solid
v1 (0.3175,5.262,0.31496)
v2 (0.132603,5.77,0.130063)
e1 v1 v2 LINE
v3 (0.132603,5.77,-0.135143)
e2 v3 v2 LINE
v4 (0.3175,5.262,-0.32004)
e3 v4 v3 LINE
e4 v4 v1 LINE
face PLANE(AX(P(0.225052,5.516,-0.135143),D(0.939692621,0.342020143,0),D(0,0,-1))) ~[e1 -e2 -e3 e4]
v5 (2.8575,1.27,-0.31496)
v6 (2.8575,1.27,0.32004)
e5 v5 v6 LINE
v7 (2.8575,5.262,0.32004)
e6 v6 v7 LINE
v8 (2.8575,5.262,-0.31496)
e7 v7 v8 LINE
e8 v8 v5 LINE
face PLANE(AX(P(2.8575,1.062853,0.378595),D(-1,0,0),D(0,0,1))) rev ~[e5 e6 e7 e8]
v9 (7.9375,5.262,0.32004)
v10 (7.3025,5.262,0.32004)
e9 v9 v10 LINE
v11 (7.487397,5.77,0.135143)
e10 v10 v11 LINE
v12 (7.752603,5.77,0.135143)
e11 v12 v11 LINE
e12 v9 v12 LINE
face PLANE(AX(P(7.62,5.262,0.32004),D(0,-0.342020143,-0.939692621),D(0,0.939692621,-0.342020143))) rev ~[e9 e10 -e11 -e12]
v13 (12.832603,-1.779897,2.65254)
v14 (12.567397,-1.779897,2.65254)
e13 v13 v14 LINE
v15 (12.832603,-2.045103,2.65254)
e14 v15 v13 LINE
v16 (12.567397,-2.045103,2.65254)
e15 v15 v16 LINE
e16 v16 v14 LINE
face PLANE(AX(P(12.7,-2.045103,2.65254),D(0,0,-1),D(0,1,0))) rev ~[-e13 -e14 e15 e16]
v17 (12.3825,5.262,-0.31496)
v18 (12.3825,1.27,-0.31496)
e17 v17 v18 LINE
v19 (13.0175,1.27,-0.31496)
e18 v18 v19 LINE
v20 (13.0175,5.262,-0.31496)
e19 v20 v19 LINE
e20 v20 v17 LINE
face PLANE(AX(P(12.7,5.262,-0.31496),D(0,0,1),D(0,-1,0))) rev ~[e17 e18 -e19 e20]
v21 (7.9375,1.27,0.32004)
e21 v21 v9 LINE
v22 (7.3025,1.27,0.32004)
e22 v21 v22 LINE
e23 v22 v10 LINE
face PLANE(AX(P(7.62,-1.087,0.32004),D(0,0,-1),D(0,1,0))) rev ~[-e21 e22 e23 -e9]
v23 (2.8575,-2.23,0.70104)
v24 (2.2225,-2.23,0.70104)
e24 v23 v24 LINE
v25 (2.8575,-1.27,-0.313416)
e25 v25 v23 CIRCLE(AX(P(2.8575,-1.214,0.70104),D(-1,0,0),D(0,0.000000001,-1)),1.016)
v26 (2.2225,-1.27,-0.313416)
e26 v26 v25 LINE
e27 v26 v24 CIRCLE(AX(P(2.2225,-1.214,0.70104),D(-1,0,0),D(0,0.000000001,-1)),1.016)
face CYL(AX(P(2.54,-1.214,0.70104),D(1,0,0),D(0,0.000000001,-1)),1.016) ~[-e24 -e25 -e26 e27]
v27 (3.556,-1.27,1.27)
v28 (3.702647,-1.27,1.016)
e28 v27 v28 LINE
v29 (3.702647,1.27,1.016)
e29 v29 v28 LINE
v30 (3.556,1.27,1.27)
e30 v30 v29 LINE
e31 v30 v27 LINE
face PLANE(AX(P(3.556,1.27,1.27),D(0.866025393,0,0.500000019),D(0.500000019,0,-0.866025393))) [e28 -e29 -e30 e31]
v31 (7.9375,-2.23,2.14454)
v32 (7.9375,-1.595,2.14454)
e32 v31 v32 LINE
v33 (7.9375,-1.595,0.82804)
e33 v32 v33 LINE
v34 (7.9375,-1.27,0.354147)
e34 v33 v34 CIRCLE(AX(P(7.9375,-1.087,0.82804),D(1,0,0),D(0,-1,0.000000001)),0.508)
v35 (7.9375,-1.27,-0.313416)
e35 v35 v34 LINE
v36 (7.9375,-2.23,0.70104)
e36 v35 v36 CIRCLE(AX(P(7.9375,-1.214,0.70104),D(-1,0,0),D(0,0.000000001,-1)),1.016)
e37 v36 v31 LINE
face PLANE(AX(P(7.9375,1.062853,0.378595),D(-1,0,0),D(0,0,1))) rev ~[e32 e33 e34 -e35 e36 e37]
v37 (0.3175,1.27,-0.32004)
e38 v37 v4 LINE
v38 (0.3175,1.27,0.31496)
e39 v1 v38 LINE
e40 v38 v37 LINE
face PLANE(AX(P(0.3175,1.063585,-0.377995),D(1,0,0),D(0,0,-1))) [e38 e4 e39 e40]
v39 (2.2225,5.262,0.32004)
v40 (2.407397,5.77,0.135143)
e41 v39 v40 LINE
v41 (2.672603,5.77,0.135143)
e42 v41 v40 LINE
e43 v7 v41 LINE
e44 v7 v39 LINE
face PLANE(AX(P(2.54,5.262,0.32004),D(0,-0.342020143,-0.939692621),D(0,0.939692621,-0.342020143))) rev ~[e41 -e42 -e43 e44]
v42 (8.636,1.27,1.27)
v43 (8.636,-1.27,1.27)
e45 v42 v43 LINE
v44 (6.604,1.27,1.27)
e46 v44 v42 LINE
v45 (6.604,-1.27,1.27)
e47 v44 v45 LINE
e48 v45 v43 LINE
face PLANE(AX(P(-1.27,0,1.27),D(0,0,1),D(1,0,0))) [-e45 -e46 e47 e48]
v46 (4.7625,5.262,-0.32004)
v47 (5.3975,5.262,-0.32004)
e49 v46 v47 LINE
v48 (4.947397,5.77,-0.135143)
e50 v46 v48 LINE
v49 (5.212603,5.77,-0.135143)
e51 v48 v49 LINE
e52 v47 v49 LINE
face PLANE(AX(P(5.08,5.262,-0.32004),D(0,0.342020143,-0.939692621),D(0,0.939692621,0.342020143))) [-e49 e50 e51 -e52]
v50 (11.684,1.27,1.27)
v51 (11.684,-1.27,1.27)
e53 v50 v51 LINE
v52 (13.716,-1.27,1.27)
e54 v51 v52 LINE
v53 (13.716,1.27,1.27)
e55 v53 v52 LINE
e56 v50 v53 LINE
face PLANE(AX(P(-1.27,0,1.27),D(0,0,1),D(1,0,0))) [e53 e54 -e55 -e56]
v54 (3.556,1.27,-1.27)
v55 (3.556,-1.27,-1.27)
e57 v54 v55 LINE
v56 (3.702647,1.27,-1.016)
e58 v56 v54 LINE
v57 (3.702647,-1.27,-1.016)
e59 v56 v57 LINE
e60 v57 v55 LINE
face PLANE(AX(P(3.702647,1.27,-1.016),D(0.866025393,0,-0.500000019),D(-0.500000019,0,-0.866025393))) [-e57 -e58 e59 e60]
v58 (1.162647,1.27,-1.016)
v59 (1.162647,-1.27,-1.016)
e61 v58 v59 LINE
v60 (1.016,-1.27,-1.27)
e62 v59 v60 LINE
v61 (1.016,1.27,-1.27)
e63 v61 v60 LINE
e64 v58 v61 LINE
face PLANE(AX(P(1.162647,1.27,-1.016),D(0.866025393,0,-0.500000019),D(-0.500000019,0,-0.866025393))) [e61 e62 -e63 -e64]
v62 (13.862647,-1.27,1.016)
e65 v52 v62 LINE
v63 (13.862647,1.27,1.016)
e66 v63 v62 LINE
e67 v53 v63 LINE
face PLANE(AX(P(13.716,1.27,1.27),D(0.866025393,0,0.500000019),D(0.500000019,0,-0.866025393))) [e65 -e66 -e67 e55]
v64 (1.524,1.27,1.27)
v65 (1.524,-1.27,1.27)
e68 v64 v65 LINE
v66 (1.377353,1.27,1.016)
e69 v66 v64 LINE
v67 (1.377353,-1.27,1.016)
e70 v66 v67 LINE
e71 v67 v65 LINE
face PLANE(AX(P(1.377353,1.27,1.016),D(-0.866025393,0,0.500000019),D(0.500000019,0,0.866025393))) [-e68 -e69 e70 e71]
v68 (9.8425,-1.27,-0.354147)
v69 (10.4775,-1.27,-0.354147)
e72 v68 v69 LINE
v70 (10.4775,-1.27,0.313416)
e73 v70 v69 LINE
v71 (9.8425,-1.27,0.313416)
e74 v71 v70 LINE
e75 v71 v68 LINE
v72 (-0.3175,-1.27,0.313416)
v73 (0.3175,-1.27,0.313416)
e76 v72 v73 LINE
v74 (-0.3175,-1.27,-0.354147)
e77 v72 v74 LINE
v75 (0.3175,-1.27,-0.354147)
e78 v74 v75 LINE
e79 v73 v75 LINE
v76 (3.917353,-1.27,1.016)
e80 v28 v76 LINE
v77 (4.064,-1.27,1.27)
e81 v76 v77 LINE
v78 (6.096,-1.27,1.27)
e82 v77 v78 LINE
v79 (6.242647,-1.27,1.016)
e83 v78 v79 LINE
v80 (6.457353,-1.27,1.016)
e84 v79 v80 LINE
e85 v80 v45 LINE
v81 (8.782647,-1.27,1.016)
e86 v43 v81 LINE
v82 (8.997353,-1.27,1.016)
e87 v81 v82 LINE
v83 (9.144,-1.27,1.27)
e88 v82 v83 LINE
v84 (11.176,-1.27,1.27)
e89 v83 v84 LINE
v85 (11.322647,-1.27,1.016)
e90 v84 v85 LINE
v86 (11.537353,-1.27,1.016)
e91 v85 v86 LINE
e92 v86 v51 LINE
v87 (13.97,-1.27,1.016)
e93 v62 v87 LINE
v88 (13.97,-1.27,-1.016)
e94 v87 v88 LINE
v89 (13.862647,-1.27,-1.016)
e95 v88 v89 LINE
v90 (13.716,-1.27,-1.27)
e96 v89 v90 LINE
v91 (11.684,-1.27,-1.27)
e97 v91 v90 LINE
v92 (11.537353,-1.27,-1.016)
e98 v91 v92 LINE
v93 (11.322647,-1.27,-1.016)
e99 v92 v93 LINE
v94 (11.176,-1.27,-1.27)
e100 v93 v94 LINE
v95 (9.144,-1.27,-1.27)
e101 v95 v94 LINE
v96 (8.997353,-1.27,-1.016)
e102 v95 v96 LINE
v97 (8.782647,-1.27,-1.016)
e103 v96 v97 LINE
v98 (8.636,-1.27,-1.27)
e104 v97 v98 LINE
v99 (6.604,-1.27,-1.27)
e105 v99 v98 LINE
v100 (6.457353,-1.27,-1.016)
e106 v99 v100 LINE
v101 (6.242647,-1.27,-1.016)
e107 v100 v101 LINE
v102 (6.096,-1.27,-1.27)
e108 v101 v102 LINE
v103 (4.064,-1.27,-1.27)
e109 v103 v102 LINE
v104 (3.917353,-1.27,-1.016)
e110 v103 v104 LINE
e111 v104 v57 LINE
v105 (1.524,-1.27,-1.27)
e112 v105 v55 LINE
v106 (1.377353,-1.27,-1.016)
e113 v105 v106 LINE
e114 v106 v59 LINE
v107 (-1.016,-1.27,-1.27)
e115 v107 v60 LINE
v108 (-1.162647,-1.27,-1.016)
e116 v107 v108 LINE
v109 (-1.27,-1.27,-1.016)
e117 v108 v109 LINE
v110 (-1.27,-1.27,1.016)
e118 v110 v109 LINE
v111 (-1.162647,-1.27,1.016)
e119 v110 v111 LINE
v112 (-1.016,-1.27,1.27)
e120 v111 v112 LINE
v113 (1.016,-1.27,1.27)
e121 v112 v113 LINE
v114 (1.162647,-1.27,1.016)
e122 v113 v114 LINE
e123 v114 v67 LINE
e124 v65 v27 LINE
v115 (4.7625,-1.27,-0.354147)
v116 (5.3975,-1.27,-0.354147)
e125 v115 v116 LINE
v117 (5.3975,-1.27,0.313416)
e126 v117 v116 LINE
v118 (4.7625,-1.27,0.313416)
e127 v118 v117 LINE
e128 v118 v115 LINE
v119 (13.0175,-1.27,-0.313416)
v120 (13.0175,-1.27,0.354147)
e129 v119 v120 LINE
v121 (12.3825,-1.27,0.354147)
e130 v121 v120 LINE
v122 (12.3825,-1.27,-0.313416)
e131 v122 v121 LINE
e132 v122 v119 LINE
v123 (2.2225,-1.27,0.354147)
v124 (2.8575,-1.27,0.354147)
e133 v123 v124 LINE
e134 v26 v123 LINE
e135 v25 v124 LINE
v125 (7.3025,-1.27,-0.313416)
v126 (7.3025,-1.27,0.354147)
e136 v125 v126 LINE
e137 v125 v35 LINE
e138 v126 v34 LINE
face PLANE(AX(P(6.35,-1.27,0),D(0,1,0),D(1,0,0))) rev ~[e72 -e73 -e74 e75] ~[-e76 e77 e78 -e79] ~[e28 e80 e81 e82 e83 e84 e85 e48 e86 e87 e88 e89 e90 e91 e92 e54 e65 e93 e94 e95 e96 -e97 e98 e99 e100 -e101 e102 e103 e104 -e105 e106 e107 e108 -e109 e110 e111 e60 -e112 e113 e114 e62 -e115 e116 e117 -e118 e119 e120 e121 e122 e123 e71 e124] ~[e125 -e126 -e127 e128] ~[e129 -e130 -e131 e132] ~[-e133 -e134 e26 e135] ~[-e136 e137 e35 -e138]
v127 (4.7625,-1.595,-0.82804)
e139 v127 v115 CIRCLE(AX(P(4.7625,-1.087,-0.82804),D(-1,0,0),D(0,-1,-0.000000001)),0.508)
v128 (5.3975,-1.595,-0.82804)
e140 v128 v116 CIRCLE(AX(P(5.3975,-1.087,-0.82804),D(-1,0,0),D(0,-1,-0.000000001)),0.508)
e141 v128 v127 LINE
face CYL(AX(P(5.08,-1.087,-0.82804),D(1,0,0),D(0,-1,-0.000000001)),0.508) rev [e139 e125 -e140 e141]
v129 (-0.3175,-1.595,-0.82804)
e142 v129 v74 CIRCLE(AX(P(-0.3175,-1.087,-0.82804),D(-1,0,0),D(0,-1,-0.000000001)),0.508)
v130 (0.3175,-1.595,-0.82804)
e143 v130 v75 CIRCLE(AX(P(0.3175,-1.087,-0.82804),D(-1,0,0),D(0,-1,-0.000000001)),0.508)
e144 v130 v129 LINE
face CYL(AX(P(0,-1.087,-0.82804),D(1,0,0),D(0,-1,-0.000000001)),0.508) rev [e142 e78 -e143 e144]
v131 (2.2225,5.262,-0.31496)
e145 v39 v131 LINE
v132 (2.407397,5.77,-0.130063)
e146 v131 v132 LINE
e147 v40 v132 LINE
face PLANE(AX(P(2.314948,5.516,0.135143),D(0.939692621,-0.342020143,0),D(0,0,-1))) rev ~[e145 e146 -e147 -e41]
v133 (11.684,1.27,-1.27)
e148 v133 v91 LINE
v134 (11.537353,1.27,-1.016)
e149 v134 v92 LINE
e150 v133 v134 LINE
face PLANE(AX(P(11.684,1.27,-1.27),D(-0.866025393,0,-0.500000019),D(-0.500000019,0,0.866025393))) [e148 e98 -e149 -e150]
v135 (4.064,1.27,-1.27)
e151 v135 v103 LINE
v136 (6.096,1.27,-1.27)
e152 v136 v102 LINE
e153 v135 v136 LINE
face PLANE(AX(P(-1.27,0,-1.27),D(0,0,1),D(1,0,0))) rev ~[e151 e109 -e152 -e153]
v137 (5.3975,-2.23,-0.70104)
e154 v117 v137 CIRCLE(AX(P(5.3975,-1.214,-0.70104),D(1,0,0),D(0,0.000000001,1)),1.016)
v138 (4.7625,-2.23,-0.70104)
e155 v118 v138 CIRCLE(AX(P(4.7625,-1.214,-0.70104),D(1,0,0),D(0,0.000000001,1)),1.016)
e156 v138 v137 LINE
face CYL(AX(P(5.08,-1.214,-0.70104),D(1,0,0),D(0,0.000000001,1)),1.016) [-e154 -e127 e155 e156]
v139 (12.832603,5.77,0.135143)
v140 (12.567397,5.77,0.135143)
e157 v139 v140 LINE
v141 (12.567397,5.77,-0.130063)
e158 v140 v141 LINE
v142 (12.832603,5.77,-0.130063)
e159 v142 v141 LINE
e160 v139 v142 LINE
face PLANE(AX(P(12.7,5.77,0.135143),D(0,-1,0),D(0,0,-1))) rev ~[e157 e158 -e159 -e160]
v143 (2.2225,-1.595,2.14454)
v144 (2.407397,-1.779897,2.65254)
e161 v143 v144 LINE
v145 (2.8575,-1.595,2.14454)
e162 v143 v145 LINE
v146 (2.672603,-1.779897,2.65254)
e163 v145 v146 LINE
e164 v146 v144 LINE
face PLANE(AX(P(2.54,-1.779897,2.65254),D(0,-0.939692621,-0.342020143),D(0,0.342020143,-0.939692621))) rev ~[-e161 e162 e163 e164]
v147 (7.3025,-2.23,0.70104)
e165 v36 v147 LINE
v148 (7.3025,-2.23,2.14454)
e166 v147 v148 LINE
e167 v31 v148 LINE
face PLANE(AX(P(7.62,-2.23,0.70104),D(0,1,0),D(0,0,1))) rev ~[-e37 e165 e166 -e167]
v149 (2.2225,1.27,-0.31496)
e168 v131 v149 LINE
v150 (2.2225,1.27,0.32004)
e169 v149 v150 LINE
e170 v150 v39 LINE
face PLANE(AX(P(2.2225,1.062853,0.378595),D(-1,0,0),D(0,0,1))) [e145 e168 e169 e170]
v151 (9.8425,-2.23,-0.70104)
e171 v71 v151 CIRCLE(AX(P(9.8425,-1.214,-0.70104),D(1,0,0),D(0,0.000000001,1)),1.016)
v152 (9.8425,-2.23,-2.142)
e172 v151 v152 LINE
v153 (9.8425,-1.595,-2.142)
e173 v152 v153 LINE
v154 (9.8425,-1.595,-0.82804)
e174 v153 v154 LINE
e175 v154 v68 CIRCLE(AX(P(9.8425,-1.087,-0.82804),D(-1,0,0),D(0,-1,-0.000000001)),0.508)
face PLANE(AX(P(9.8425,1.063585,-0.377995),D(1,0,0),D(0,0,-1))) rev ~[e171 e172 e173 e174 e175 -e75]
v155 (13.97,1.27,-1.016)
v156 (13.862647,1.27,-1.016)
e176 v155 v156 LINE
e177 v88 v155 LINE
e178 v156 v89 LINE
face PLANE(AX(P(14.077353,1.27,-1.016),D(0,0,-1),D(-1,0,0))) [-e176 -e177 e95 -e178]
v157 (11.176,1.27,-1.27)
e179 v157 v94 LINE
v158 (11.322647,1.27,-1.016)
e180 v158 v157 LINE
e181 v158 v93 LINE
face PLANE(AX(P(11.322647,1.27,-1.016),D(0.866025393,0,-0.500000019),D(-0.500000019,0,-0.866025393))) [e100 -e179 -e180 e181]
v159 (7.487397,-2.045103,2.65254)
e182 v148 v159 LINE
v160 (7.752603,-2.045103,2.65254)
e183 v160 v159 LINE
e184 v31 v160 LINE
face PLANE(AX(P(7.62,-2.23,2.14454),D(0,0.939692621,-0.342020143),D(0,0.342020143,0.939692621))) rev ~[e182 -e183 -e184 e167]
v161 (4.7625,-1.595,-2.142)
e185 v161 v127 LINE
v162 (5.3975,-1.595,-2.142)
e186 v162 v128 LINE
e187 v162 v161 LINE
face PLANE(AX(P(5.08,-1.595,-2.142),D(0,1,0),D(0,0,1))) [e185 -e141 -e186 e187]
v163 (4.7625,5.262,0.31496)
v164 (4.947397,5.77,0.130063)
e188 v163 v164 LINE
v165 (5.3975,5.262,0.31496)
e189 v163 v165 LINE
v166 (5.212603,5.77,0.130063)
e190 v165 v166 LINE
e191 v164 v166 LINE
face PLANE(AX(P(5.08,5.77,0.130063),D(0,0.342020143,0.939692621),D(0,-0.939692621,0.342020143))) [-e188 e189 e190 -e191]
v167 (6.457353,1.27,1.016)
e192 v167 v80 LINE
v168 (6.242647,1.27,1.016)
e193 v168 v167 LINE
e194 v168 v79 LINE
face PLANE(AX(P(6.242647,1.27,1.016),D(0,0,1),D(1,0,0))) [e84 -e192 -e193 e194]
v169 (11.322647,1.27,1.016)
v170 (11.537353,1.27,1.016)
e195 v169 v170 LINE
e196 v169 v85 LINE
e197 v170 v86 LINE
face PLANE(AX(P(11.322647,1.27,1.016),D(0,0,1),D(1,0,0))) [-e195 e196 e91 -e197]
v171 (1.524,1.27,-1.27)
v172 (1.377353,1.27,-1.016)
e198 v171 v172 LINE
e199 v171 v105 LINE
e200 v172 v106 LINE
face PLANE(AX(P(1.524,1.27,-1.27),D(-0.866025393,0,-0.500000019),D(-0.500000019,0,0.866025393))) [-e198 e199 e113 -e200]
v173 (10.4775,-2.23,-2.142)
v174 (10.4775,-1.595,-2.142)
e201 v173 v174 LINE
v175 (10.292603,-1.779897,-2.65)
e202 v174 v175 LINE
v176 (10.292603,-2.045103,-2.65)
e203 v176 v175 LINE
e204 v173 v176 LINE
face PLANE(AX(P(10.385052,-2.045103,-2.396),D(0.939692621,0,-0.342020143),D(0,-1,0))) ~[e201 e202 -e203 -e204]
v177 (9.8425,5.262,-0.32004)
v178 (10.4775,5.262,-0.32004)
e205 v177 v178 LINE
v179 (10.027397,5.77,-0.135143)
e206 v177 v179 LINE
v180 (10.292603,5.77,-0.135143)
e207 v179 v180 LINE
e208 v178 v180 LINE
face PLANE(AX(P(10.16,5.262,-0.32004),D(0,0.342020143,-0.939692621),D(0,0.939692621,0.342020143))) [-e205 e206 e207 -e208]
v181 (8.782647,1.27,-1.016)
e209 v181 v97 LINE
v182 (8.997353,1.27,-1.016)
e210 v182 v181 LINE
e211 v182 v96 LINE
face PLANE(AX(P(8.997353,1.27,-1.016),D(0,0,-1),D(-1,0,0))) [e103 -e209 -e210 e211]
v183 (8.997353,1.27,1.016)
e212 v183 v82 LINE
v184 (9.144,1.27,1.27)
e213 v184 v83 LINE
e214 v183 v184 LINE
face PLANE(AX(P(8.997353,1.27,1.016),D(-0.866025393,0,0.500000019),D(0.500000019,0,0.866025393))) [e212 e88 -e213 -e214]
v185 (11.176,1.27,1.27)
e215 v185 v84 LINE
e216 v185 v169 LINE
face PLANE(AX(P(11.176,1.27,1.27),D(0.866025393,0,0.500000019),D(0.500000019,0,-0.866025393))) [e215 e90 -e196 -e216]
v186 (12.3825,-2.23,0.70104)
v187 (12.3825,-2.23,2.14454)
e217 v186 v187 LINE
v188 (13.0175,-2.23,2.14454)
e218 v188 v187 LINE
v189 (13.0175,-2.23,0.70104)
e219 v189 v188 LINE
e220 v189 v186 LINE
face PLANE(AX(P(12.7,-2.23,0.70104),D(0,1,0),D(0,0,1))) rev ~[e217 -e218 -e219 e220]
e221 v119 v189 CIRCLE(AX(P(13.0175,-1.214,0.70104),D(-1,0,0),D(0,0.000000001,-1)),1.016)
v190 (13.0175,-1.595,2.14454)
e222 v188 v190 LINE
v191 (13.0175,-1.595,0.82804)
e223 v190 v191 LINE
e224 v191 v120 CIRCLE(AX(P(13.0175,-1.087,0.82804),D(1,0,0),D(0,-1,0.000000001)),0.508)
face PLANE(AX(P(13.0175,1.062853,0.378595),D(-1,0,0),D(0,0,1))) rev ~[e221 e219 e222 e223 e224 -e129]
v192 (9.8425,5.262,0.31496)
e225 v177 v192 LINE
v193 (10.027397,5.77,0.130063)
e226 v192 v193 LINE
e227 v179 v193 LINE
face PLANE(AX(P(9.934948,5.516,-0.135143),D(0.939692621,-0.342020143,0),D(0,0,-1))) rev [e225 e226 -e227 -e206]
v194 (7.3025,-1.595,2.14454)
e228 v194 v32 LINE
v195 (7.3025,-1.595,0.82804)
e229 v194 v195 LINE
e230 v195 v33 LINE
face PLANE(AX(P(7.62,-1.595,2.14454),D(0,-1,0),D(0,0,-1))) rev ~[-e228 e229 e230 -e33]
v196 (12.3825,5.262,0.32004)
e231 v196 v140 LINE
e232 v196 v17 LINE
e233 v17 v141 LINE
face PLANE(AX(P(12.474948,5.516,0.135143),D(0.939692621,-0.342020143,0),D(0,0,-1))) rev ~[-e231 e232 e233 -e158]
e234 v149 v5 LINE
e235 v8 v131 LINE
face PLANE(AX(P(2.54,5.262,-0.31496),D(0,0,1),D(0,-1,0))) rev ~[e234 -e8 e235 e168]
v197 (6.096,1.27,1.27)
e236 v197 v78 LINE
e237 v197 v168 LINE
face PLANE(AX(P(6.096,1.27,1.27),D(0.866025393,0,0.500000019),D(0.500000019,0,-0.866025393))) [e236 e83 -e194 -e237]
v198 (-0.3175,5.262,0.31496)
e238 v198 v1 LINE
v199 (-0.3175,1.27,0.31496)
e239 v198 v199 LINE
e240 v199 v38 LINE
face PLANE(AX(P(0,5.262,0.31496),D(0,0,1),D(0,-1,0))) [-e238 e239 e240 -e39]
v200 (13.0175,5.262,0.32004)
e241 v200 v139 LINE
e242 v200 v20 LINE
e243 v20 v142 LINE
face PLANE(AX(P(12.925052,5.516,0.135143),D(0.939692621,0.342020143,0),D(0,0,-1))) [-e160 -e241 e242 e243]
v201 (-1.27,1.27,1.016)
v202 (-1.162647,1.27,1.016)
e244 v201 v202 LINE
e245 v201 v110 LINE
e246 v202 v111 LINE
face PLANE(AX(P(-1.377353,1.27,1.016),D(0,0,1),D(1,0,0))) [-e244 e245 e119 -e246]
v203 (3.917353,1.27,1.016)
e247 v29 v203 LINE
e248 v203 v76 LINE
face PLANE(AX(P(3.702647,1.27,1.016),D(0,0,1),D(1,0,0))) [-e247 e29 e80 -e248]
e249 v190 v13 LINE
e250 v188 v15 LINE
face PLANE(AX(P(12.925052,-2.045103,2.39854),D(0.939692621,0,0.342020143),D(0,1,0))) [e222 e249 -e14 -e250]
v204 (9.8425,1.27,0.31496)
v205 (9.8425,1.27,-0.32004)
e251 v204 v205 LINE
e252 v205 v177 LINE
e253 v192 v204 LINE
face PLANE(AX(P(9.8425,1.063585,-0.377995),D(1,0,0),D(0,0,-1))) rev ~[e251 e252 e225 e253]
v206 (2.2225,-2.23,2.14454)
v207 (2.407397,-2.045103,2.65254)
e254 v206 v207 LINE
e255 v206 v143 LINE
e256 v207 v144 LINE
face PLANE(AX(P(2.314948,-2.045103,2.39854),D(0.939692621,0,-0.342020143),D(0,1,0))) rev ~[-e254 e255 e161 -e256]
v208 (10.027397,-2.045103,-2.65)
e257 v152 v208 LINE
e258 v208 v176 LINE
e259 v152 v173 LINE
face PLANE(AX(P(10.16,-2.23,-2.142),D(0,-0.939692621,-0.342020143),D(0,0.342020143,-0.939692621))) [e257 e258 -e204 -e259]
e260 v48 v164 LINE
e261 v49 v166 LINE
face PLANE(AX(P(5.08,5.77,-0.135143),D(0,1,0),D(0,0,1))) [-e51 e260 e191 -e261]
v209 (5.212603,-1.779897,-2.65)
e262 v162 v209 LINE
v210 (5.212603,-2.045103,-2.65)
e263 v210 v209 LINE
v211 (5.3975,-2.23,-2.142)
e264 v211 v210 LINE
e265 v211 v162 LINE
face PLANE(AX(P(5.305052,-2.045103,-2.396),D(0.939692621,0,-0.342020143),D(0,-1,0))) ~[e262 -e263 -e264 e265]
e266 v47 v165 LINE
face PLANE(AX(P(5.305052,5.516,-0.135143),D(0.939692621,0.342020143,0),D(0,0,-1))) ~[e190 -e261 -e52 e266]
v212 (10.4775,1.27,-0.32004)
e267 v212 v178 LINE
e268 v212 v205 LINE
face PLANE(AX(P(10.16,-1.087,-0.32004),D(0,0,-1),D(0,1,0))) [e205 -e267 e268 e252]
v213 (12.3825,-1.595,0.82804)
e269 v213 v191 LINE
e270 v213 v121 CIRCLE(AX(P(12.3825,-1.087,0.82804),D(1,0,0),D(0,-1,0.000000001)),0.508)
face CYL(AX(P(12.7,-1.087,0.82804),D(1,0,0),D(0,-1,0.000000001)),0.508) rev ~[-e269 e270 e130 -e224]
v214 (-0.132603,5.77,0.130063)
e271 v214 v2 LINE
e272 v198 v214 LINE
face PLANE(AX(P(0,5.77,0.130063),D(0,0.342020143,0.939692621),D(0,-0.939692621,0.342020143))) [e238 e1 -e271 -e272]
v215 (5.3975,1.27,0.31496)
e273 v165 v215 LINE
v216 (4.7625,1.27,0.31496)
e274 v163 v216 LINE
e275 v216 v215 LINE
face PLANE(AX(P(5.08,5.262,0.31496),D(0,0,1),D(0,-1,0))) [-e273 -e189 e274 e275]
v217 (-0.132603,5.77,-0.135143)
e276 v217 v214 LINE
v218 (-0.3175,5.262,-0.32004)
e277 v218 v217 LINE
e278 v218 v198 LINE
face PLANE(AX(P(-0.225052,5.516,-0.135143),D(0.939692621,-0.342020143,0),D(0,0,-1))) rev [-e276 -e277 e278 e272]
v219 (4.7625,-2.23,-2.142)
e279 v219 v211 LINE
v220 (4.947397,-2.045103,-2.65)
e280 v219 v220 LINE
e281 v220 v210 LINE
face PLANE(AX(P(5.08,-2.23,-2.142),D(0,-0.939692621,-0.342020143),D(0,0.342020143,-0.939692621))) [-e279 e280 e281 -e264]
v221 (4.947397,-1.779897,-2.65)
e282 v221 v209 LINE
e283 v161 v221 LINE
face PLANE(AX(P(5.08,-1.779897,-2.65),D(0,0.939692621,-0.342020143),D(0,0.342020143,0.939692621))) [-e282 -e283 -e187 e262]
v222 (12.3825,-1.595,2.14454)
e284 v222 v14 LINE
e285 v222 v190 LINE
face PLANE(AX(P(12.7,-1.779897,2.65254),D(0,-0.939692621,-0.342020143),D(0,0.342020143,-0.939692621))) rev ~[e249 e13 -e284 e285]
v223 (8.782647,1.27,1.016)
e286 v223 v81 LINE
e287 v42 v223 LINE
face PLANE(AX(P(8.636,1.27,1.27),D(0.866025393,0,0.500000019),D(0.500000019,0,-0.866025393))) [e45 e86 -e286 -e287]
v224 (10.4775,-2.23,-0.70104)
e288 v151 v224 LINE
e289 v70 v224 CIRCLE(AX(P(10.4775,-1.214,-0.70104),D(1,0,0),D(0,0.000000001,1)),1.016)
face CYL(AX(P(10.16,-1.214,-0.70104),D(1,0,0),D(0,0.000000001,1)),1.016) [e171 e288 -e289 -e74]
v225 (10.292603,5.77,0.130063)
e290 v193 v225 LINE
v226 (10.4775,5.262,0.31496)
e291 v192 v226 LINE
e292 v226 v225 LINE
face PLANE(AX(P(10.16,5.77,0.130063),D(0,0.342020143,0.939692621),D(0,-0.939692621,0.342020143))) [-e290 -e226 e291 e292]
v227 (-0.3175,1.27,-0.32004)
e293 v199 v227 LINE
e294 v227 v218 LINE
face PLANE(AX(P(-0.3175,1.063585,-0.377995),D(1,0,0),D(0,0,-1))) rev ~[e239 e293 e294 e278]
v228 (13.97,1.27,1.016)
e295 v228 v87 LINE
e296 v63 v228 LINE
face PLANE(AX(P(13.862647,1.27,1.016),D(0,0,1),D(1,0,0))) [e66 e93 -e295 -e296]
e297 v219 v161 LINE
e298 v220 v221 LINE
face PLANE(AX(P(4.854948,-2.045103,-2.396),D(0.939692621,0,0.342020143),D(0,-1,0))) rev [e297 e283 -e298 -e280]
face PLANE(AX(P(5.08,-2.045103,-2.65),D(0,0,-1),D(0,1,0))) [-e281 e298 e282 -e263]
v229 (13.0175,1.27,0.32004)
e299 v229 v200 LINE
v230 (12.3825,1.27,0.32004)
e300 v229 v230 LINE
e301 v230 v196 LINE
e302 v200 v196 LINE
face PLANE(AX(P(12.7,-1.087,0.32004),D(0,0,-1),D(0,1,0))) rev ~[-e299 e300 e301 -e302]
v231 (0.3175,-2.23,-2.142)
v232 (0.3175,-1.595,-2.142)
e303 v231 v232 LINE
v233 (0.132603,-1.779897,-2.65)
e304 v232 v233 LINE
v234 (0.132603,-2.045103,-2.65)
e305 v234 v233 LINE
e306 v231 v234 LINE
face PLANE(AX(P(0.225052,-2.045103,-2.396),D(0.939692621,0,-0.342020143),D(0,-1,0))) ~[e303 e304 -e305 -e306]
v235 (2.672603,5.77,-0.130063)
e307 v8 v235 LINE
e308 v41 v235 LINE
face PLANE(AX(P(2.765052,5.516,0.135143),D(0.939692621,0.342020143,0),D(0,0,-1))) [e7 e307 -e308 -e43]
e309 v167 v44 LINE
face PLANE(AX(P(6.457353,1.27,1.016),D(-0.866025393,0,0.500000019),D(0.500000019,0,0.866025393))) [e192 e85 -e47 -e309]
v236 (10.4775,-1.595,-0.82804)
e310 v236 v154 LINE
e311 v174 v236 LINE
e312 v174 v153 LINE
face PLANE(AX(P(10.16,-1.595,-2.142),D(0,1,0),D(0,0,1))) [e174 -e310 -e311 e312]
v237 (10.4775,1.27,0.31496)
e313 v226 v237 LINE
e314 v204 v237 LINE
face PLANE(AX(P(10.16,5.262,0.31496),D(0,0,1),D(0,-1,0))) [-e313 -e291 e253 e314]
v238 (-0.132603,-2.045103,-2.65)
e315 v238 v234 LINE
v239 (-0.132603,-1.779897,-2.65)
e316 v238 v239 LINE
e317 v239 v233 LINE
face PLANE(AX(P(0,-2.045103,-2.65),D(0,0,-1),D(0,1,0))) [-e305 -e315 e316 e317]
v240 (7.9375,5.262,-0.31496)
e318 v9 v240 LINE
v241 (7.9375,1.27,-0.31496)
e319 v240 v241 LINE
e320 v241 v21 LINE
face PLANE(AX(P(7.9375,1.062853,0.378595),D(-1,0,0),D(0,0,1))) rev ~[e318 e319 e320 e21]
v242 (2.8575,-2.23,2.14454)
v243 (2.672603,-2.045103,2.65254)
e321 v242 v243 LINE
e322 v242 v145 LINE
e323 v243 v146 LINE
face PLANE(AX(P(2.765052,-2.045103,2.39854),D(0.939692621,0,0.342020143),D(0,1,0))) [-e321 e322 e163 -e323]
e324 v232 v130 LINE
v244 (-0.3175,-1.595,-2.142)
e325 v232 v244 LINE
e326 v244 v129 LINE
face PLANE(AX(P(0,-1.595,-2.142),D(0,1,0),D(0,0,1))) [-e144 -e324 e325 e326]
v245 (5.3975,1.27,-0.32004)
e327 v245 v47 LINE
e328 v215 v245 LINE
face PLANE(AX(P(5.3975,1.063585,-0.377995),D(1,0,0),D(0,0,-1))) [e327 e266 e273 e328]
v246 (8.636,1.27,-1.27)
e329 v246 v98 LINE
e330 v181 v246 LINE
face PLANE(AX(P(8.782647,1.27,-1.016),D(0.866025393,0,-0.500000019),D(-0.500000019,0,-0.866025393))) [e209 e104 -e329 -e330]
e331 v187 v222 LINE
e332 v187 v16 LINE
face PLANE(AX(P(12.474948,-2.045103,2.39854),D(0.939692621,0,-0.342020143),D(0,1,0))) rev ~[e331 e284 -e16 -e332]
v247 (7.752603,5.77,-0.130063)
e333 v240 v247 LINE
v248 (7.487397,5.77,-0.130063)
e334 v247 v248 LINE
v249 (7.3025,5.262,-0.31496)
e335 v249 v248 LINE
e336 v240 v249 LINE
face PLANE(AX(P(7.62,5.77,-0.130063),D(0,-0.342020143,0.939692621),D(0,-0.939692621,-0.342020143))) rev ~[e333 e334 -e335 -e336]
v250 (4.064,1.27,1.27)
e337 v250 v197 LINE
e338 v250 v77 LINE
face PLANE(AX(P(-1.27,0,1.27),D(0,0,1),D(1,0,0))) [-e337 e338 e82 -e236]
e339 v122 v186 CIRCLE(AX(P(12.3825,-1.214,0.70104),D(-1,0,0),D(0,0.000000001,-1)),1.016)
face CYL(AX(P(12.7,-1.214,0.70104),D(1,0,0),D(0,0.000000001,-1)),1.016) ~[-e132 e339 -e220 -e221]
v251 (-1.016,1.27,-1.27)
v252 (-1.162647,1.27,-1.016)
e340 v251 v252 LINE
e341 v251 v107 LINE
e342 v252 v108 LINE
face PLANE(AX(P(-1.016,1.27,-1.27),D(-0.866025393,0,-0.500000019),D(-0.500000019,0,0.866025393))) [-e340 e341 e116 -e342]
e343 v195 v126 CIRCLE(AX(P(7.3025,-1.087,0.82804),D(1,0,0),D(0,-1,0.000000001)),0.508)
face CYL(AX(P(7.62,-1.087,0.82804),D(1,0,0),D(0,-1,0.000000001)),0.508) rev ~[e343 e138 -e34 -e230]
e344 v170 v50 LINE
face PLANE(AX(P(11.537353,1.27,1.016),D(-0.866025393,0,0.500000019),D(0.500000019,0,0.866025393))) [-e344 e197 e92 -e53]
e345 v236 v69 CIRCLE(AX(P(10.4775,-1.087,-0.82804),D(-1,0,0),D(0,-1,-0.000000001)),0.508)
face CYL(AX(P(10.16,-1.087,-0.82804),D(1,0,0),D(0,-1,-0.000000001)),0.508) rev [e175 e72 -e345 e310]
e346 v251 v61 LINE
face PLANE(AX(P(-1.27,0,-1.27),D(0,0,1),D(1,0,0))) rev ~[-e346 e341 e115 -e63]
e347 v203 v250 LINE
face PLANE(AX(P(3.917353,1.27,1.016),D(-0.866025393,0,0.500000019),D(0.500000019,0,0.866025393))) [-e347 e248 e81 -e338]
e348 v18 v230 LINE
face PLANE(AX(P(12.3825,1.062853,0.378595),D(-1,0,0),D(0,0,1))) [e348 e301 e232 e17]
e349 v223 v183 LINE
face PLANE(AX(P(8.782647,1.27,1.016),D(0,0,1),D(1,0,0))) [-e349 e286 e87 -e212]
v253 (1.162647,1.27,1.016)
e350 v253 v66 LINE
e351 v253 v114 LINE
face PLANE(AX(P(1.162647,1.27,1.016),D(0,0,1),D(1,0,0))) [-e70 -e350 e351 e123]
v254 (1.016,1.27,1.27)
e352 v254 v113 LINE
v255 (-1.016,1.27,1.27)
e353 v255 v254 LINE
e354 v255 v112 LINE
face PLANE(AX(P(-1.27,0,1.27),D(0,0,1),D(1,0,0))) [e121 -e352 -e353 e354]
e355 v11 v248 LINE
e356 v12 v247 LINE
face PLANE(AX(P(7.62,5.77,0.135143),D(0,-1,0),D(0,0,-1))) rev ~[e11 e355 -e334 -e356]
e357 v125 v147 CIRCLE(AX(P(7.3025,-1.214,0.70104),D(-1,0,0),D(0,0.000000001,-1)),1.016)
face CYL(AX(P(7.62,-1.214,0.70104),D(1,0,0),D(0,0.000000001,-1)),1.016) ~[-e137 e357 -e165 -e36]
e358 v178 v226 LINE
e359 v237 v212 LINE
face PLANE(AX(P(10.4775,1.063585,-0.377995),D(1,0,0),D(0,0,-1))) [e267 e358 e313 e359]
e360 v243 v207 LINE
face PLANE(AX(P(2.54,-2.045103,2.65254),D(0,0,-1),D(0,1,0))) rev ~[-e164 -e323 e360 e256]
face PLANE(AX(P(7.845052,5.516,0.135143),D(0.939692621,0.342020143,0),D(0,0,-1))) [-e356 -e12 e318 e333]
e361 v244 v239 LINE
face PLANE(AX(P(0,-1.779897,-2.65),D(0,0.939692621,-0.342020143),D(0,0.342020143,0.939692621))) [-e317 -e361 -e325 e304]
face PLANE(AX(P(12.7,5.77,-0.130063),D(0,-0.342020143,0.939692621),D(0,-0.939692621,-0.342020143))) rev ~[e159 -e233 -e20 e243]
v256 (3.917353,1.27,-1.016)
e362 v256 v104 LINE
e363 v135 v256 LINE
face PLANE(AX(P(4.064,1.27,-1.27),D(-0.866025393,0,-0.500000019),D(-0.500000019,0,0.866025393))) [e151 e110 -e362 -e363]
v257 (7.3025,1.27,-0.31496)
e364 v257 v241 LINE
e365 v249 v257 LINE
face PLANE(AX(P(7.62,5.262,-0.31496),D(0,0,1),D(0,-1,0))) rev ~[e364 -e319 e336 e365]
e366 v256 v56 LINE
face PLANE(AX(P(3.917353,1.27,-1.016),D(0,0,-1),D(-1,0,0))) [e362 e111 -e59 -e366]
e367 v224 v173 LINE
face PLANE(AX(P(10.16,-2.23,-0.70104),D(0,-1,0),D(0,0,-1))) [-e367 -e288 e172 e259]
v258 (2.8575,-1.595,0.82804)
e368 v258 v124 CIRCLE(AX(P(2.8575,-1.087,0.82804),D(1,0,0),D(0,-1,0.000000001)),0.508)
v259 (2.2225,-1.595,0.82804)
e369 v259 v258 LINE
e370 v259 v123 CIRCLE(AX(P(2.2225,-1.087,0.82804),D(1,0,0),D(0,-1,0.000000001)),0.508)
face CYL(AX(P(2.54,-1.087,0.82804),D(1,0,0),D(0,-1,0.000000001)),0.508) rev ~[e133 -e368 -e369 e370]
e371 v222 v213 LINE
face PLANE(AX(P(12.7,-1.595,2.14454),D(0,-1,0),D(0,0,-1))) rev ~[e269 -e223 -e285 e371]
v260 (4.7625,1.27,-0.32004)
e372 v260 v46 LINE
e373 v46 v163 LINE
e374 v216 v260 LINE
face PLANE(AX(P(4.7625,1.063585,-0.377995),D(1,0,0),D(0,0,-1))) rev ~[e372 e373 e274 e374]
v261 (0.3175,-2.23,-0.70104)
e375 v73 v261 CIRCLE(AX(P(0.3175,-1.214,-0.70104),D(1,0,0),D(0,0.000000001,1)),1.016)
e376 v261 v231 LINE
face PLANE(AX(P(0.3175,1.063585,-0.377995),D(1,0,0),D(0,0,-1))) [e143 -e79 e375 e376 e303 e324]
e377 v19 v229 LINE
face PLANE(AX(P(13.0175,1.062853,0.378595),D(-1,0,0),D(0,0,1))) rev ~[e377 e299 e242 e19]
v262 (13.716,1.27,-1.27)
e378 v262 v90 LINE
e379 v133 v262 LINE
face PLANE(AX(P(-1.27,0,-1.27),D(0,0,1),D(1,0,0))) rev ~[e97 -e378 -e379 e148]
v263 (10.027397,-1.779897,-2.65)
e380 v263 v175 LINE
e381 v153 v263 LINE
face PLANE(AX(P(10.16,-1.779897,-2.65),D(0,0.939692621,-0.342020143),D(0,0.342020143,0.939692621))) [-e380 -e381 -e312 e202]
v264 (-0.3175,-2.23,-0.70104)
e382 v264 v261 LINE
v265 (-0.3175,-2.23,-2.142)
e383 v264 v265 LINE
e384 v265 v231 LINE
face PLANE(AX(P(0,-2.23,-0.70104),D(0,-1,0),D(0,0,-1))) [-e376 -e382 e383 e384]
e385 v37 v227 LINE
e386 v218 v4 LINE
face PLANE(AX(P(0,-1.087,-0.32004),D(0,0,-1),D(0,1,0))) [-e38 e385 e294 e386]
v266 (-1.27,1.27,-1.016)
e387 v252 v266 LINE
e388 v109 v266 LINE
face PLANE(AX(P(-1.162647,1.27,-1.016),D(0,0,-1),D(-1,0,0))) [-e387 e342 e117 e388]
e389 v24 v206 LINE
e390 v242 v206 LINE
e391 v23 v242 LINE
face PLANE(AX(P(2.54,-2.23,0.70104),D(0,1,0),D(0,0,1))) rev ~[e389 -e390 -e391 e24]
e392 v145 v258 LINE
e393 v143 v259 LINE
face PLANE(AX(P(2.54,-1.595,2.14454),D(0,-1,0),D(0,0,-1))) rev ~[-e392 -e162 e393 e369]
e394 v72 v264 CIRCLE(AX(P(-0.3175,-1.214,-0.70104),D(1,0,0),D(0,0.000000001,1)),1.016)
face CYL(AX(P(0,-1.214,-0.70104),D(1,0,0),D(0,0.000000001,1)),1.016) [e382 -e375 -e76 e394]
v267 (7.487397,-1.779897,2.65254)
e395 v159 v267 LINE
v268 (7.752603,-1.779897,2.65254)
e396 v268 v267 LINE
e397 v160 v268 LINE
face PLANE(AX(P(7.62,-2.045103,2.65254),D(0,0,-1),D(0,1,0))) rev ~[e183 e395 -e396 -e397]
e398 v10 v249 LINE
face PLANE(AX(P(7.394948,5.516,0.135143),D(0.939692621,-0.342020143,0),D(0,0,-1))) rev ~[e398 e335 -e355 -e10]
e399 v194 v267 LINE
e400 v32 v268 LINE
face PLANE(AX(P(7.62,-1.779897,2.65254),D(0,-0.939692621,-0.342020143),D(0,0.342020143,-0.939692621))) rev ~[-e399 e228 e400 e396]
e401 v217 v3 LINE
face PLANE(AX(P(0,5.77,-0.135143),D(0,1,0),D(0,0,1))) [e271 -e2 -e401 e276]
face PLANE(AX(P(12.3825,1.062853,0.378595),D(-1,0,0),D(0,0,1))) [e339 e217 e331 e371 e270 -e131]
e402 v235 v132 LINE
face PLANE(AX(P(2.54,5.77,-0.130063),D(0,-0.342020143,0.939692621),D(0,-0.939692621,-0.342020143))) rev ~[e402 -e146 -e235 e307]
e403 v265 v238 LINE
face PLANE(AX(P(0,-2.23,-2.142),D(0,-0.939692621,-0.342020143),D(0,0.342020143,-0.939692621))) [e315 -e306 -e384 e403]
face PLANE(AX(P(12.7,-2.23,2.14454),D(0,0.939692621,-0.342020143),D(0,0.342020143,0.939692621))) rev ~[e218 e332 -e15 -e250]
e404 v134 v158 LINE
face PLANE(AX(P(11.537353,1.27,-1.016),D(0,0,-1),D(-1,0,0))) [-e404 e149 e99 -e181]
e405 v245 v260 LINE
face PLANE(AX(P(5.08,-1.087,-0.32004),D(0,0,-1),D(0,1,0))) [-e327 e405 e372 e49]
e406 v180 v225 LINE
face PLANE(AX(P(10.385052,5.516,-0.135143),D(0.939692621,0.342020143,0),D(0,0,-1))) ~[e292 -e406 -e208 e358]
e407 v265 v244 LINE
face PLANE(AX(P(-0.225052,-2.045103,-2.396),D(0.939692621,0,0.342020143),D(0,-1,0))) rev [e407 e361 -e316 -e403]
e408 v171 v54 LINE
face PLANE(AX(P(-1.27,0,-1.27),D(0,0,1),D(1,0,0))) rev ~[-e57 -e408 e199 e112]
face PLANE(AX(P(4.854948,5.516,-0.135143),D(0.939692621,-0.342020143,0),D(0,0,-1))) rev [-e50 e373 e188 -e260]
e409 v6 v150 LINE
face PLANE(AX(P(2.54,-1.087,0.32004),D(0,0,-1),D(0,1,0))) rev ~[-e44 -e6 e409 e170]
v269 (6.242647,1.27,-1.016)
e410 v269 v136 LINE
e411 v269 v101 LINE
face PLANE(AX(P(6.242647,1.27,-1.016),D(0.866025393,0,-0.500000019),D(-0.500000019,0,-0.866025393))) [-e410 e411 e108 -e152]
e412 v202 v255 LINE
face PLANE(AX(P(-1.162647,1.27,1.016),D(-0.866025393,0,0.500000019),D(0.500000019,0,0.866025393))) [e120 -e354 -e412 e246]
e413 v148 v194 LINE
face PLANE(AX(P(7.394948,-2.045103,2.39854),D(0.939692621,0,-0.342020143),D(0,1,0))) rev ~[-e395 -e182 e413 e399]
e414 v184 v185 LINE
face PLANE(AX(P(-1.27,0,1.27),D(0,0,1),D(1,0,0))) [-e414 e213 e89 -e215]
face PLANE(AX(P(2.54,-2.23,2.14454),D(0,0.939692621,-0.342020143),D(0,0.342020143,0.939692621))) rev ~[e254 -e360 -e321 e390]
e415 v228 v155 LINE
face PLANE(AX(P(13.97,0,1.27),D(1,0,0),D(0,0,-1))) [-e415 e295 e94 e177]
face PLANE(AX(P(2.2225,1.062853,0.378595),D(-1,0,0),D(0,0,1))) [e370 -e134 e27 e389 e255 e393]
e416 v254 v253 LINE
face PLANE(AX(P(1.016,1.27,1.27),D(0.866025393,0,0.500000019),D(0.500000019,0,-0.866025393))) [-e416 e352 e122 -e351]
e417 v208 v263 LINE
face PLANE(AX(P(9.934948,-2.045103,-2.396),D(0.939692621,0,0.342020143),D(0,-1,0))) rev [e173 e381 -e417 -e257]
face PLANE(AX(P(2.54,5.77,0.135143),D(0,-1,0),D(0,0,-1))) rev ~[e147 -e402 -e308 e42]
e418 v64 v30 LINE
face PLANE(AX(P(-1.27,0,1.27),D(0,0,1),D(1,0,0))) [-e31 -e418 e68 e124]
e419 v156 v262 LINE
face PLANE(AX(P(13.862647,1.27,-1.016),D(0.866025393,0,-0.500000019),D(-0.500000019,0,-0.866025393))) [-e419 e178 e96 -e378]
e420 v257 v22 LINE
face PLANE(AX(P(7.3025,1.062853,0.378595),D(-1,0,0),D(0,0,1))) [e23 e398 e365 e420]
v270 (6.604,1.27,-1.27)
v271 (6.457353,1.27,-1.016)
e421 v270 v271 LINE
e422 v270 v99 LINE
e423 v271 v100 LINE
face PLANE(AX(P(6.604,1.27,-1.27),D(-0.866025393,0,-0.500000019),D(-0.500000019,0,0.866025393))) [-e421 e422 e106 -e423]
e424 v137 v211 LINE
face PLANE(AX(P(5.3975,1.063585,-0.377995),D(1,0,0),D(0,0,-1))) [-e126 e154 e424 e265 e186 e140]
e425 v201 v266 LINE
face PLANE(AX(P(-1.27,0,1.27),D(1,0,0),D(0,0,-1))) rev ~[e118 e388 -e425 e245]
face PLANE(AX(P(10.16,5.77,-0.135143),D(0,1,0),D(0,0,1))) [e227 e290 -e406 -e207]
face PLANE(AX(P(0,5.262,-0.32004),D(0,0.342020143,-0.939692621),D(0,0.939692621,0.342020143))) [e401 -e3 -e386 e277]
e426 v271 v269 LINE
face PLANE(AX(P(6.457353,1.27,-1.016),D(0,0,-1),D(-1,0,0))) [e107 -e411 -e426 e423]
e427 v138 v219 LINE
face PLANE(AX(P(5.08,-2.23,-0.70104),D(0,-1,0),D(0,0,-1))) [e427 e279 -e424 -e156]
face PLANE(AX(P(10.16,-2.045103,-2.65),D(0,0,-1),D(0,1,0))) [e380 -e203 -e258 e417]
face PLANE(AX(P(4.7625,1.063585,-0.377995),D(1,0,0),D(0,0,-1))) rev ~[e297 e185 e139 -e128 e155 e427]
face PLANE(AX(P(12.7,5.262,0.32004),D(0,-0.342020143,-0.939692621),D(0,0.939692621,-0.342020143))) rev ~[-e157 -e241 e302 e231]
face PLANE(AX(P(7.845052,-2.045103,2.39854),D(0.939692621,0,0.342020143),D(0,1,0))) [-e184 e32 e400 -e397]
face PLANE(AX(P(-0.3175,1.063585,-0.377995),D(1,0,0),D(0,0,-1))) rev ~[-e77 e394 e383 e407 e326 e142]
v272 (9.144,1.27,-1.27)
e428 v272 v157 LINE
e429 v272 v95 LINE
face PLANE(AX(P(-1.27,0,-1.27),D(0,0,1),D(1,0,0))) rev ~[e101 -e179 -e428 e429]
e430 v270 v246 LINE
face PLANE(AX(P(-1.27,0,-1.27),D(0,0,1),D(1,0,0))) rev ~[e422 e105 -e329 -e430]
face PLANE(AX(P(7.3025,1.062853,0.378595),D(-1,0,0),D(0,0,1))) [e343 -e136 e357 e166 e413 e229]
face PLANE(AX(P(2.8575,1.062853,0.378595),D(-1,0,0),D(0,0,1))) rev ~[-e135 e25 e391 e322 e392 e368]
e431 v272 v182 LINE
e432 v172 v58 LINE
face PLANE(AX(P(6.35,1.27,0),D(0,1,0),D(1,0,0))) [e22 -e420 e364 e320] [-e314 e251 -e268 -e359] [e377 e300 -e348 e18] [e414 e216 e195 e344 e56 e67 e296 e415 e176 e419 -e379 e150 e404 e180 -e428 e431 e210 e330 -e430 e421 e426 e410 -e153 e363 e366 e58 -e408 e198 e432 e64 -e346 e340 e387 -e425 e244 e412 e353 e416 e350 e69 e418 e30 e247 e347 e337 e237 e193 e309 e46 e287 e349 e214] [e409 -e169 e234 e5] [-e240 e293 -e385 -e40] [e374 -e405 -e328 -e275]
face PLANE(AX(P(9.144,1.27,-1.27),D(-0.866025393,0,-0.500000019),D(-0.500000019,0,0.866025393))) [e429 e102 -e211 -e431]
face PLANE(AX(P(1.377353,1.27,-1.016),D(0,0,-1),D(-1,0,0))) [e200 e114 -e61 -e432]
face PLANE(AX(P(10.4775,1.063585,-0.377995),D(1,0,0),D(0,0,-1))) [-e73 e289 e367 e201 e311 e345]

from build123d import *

# Parameters (mm, degrees)
SKETCH1_W                            = 15.24
SKETCH1_H                            = 2.54
BASE_EXTRUDE_DEPTH                   = 1.27
PIN_DEPTH                            = 0.3175
PIN_CHAMFER_SIZE2                    = 0.184896879
PIN_CHAMFER_SIZE                     = 0.508
PIN_PATTERN_COUNT                    = 3
PIN_PATTERN_PITCH                    = 5.08
PIN_CHAMFER_OF_PIN_PATTERN_SIZE2     = 0.184896879
PIN_CHAMFER_OF_PIN_PATTERN_SIZE      = 0.508
PIN_2_DEPTH                          = 0.3175
PIN_2_CHAMFER_SIZE2                  = 0.184896879
PIN_2_CHAMFER_SIZE                   = 0.508
PIN_2_PATTERN_COUNT                  = 3
PIN_2_PATTERN_PITCH                  = 5.08
PIN_2_CHAMFER_OF_PIN_2_PATTERN_SIZE2 = 0.184896879
PIN_2_CHAMFER_OF_PIN_2_PATTERN_SIZE  = 0.508
SV_CUT_DEPTH                         = 4.5
SV_CUT_PATTERN_COUNT                 = 5
SV_CUT_PATTERN_PITCH                 = 2.54
LPATTERN1_COUNT                      = 3
LPATTERN1_PITCH                      = 2.54


with BuildPart() as part:
    # Sketch1 → Base Extrude (new body, symmetric)
    with BuildSketch(Plane(origin=(0, 0, 0), x_dir=(1, 0, 0), z_dir=(0, 1, 0))):
        with Locations((6.35, 0)):
            Rectangle(SKETCH1_W, SKETCH1_H)
    extrude(amount=BASE_EXTRUDE_DEPTH, both=True)

    # Sketch8 → Pin (add, symmetric)
    with BuildSketch(Plane(origin=(0, 0, 0), x_dir=(0, 0, -1), z_dir=(1, 0, 0))):
        with BuildLine():
            Line((0.32004, -1.087), (0.32004, 5.262))
            Line((0.32004, 5.262), (0.135143121, 5.77))
            Line((0.135143121, 5.77), (-0.130063121, 5.77))
            Line((-0.130063121, 5.77), (-0.31496, 5.262))
            Line((-0.31496, 5.262), (-0.31496, -1.214))
            ThreePointArc((-0.31496, -1.214), (-0.01738049, -1.93242049), (0.70104, -2.23))
            Line((0.70104, -2.23), (2.142, -2.23))
            Line((2.142, -2.23), (2.65, -2.045103121))
            Line((2.65, -2.045103121), (2.65, -1.779896879))
            Line((2.65, -1.779896879), (2.142, -1.595))
            Line((2.142, -1.595), (0.82804, -1.595))
            ThreePointArc((0.82804, -1.595), (0.468829755, -1.446210245), (0.32004, -1.087))
        make_face()
    pin = extrude(amount=PIN_DEPTH, both=True)

    # Pin Chamfer
    pin_chamfer_edges = [part.edges().sort_by_distance(p)[0] for p in [
        (0.3175, -1.9125, -2.65),
        (-0.3175, 5.77, -0.00254),
        (-0.3175, -1.9125, -2.65),
        (0.3175, 5.77, -0.00254),
    ]]
    chamfer(pin_chamfer_edges, length=PIN_CHAMFER_SIZE, length2=PIN_CHAMFER_SIZE2)

    # Pin Pattern: Pin ×3
    with Locations(*[(i * PIN_PATTERN_PITCH, 0, 0) for i in range(1, PIN_PATTERN_COUNT)]):
        add(pin)

    # Pin Chamfer of Pin Pattern
    pin_chamfer_of_pin_pattern_edges = [part.edges().sort_by_distance(p)[0] for p in [
        (5.3975, -1.9125, -2.65),
        (4.7625, 5.77, -0.00254),
        (4.7625, -1.9125, -2.65),
        (5.3975, 5.77, -0.00254),
        (10.4775, -1.9125, -2.65),
        (9.8425, 5.77, -0.00254),
        (9.8425, -1.9125, -2.65),
        (10.4775, 5.77, -0.00254),
    ]]
    chamfer(pin_chamfer_of_pin_pattern_edges, length=PIN_CHAMFER_OF_PIN_PATTERN_SIZE, length2=PIN_CHAMFER_OF_PIN_PATTERN_SIZE2)

    # Sketch9 → Pin 2 (add, symmetric)
    with BuildSketch(Plane(origin=(2.54, 0, 0), x_dir=(0, 0, -1), z_dir=(1, 0, 0))):
        with BuildLine():
            Line((-0.32004, -1.087), (-0.32004, 5.262))
            Line((-0.32004, 5.262), (-0.135143121, 5.77))
            Line((-0.135143121, 5.77), (0.130063121, 5.77))
            Line((0.130063121, 5.77), (0.31496, 5.262))
            Line((0.31496, 5.262), (0.31496, -1.214))
            ThreePointArc((0.31496, -1.214), (0.01738049, -1.93242049), (-0.70104, -2.23))
            Line((-0.70104, -2.23), (-2.14454, -2.23))
            Line((-2.14454, -2.23), (-2.65254, -2.045103121))
            Line((-2.65254, -2.045103121), (-2.65254, -1.779896879))
            Line((-2.65254, -1.779896879), (-2.14454, -1.595))
            Line((-2.14454, -1.595), (-0.82804, -1.595))
            ThreePointArc((-0.82804, -1.595), (-0.468829755, -1.446210245), (-0.32004, -1.087))
        make_face()
    pin_2 = extrude(amount=PIN_2_DEPTH, both=True)

    # Pin 2 Chamfer
    pin_2_chamfer_edges = [part.edges().sort_by_distance(p)[0] for p in [
        (2.8575, -1.9125, 2.65254),
        (2.2225, -1.9125, 2.65254),
        (2.2225, 5.77, 0.00254),
        (2.8575, 5.77, 0.00254),
    ]]
    chamfer(pin_2_chamfer_edges, length=PIN_2_CHAMFER_SIZE, length2=PIN_2_CHAMFER_SIZE2)

    # Pin 2 Pattern: Pin 2 ×3
    with Locations(*[(i * PIN_2_PATTERN_PITCH, 0, 0) for i in range(1, PIN_2_PATTERN_COUNT)]):
        add(pin_2)

    # Pin 2 Chamfer of Pin 2 Pattern
    pin_2_chamfer_of_pin_2_pattern_edges = [part.edges().sort_by_distance(p)[0] for p in [
        (7.9375, -1.9125, 2.65254),
        (7.3025, -1.9125, 2.65254),
        (7.3025, 5.77, 0.00254),
        (7.9375, 5.77, 0.00254),
        (13.0175, -1.9125, 2.65254),
        (12.3825, -1.9125, 2.65254),
        (12.3825, 5.77, 0.00254),
        (13.0175, 5.77, 0.00254),
    ]]
    chamfer(pin_2_chamfer_of_pin_2_pattern_edges, length=PIN_2_CHAMFER_OF_PIN_2_PATTERN_SIZE, length2=PIN_2_CHAMFER_OF_PIN_2_PATTERN_SIZE2)

    # Sketch15 → SV Cut (cut, through all)
    with BuildSketch(Plane(origin=(0, 1.27, 0), x_dir=(-1, 0, 0), z_dir=(0, 1, 0))):
        Polygon((-3.556, 1.27), (-3.702646976, 1.016), (-3.917353024, 1.016), (-4.064, 1.27), align=None)
        Polygon((-4.064, -1.27), (-3.917353024, -1.016), (-3.702646976, -1.016), (-3.556, -1.27), align=None)
    sv_cut = extrude(amount=-SV_CUT_DEPTH, mode=Mode.SUBTRACT)

    # SV Cut Pattern: SV Cut ×5
    with Locations(*[(i * SV_CUT_PATTERN_PITCH, 0, 0) for i in range(1, SV_CUT_PATTERN_COUNT)]):
        add(sv_cut, mode=Mode.SUBTRACT)

    # LPattern1: SV Cut ×3
    with Locations(*[(-i * LPATTERN1_PITCH, 0, 0) for i in range(1, LPATTERN1_COUNT)]):
        add(sv_cut, mode=Mode.SUBTRACT)


solid = part.part
